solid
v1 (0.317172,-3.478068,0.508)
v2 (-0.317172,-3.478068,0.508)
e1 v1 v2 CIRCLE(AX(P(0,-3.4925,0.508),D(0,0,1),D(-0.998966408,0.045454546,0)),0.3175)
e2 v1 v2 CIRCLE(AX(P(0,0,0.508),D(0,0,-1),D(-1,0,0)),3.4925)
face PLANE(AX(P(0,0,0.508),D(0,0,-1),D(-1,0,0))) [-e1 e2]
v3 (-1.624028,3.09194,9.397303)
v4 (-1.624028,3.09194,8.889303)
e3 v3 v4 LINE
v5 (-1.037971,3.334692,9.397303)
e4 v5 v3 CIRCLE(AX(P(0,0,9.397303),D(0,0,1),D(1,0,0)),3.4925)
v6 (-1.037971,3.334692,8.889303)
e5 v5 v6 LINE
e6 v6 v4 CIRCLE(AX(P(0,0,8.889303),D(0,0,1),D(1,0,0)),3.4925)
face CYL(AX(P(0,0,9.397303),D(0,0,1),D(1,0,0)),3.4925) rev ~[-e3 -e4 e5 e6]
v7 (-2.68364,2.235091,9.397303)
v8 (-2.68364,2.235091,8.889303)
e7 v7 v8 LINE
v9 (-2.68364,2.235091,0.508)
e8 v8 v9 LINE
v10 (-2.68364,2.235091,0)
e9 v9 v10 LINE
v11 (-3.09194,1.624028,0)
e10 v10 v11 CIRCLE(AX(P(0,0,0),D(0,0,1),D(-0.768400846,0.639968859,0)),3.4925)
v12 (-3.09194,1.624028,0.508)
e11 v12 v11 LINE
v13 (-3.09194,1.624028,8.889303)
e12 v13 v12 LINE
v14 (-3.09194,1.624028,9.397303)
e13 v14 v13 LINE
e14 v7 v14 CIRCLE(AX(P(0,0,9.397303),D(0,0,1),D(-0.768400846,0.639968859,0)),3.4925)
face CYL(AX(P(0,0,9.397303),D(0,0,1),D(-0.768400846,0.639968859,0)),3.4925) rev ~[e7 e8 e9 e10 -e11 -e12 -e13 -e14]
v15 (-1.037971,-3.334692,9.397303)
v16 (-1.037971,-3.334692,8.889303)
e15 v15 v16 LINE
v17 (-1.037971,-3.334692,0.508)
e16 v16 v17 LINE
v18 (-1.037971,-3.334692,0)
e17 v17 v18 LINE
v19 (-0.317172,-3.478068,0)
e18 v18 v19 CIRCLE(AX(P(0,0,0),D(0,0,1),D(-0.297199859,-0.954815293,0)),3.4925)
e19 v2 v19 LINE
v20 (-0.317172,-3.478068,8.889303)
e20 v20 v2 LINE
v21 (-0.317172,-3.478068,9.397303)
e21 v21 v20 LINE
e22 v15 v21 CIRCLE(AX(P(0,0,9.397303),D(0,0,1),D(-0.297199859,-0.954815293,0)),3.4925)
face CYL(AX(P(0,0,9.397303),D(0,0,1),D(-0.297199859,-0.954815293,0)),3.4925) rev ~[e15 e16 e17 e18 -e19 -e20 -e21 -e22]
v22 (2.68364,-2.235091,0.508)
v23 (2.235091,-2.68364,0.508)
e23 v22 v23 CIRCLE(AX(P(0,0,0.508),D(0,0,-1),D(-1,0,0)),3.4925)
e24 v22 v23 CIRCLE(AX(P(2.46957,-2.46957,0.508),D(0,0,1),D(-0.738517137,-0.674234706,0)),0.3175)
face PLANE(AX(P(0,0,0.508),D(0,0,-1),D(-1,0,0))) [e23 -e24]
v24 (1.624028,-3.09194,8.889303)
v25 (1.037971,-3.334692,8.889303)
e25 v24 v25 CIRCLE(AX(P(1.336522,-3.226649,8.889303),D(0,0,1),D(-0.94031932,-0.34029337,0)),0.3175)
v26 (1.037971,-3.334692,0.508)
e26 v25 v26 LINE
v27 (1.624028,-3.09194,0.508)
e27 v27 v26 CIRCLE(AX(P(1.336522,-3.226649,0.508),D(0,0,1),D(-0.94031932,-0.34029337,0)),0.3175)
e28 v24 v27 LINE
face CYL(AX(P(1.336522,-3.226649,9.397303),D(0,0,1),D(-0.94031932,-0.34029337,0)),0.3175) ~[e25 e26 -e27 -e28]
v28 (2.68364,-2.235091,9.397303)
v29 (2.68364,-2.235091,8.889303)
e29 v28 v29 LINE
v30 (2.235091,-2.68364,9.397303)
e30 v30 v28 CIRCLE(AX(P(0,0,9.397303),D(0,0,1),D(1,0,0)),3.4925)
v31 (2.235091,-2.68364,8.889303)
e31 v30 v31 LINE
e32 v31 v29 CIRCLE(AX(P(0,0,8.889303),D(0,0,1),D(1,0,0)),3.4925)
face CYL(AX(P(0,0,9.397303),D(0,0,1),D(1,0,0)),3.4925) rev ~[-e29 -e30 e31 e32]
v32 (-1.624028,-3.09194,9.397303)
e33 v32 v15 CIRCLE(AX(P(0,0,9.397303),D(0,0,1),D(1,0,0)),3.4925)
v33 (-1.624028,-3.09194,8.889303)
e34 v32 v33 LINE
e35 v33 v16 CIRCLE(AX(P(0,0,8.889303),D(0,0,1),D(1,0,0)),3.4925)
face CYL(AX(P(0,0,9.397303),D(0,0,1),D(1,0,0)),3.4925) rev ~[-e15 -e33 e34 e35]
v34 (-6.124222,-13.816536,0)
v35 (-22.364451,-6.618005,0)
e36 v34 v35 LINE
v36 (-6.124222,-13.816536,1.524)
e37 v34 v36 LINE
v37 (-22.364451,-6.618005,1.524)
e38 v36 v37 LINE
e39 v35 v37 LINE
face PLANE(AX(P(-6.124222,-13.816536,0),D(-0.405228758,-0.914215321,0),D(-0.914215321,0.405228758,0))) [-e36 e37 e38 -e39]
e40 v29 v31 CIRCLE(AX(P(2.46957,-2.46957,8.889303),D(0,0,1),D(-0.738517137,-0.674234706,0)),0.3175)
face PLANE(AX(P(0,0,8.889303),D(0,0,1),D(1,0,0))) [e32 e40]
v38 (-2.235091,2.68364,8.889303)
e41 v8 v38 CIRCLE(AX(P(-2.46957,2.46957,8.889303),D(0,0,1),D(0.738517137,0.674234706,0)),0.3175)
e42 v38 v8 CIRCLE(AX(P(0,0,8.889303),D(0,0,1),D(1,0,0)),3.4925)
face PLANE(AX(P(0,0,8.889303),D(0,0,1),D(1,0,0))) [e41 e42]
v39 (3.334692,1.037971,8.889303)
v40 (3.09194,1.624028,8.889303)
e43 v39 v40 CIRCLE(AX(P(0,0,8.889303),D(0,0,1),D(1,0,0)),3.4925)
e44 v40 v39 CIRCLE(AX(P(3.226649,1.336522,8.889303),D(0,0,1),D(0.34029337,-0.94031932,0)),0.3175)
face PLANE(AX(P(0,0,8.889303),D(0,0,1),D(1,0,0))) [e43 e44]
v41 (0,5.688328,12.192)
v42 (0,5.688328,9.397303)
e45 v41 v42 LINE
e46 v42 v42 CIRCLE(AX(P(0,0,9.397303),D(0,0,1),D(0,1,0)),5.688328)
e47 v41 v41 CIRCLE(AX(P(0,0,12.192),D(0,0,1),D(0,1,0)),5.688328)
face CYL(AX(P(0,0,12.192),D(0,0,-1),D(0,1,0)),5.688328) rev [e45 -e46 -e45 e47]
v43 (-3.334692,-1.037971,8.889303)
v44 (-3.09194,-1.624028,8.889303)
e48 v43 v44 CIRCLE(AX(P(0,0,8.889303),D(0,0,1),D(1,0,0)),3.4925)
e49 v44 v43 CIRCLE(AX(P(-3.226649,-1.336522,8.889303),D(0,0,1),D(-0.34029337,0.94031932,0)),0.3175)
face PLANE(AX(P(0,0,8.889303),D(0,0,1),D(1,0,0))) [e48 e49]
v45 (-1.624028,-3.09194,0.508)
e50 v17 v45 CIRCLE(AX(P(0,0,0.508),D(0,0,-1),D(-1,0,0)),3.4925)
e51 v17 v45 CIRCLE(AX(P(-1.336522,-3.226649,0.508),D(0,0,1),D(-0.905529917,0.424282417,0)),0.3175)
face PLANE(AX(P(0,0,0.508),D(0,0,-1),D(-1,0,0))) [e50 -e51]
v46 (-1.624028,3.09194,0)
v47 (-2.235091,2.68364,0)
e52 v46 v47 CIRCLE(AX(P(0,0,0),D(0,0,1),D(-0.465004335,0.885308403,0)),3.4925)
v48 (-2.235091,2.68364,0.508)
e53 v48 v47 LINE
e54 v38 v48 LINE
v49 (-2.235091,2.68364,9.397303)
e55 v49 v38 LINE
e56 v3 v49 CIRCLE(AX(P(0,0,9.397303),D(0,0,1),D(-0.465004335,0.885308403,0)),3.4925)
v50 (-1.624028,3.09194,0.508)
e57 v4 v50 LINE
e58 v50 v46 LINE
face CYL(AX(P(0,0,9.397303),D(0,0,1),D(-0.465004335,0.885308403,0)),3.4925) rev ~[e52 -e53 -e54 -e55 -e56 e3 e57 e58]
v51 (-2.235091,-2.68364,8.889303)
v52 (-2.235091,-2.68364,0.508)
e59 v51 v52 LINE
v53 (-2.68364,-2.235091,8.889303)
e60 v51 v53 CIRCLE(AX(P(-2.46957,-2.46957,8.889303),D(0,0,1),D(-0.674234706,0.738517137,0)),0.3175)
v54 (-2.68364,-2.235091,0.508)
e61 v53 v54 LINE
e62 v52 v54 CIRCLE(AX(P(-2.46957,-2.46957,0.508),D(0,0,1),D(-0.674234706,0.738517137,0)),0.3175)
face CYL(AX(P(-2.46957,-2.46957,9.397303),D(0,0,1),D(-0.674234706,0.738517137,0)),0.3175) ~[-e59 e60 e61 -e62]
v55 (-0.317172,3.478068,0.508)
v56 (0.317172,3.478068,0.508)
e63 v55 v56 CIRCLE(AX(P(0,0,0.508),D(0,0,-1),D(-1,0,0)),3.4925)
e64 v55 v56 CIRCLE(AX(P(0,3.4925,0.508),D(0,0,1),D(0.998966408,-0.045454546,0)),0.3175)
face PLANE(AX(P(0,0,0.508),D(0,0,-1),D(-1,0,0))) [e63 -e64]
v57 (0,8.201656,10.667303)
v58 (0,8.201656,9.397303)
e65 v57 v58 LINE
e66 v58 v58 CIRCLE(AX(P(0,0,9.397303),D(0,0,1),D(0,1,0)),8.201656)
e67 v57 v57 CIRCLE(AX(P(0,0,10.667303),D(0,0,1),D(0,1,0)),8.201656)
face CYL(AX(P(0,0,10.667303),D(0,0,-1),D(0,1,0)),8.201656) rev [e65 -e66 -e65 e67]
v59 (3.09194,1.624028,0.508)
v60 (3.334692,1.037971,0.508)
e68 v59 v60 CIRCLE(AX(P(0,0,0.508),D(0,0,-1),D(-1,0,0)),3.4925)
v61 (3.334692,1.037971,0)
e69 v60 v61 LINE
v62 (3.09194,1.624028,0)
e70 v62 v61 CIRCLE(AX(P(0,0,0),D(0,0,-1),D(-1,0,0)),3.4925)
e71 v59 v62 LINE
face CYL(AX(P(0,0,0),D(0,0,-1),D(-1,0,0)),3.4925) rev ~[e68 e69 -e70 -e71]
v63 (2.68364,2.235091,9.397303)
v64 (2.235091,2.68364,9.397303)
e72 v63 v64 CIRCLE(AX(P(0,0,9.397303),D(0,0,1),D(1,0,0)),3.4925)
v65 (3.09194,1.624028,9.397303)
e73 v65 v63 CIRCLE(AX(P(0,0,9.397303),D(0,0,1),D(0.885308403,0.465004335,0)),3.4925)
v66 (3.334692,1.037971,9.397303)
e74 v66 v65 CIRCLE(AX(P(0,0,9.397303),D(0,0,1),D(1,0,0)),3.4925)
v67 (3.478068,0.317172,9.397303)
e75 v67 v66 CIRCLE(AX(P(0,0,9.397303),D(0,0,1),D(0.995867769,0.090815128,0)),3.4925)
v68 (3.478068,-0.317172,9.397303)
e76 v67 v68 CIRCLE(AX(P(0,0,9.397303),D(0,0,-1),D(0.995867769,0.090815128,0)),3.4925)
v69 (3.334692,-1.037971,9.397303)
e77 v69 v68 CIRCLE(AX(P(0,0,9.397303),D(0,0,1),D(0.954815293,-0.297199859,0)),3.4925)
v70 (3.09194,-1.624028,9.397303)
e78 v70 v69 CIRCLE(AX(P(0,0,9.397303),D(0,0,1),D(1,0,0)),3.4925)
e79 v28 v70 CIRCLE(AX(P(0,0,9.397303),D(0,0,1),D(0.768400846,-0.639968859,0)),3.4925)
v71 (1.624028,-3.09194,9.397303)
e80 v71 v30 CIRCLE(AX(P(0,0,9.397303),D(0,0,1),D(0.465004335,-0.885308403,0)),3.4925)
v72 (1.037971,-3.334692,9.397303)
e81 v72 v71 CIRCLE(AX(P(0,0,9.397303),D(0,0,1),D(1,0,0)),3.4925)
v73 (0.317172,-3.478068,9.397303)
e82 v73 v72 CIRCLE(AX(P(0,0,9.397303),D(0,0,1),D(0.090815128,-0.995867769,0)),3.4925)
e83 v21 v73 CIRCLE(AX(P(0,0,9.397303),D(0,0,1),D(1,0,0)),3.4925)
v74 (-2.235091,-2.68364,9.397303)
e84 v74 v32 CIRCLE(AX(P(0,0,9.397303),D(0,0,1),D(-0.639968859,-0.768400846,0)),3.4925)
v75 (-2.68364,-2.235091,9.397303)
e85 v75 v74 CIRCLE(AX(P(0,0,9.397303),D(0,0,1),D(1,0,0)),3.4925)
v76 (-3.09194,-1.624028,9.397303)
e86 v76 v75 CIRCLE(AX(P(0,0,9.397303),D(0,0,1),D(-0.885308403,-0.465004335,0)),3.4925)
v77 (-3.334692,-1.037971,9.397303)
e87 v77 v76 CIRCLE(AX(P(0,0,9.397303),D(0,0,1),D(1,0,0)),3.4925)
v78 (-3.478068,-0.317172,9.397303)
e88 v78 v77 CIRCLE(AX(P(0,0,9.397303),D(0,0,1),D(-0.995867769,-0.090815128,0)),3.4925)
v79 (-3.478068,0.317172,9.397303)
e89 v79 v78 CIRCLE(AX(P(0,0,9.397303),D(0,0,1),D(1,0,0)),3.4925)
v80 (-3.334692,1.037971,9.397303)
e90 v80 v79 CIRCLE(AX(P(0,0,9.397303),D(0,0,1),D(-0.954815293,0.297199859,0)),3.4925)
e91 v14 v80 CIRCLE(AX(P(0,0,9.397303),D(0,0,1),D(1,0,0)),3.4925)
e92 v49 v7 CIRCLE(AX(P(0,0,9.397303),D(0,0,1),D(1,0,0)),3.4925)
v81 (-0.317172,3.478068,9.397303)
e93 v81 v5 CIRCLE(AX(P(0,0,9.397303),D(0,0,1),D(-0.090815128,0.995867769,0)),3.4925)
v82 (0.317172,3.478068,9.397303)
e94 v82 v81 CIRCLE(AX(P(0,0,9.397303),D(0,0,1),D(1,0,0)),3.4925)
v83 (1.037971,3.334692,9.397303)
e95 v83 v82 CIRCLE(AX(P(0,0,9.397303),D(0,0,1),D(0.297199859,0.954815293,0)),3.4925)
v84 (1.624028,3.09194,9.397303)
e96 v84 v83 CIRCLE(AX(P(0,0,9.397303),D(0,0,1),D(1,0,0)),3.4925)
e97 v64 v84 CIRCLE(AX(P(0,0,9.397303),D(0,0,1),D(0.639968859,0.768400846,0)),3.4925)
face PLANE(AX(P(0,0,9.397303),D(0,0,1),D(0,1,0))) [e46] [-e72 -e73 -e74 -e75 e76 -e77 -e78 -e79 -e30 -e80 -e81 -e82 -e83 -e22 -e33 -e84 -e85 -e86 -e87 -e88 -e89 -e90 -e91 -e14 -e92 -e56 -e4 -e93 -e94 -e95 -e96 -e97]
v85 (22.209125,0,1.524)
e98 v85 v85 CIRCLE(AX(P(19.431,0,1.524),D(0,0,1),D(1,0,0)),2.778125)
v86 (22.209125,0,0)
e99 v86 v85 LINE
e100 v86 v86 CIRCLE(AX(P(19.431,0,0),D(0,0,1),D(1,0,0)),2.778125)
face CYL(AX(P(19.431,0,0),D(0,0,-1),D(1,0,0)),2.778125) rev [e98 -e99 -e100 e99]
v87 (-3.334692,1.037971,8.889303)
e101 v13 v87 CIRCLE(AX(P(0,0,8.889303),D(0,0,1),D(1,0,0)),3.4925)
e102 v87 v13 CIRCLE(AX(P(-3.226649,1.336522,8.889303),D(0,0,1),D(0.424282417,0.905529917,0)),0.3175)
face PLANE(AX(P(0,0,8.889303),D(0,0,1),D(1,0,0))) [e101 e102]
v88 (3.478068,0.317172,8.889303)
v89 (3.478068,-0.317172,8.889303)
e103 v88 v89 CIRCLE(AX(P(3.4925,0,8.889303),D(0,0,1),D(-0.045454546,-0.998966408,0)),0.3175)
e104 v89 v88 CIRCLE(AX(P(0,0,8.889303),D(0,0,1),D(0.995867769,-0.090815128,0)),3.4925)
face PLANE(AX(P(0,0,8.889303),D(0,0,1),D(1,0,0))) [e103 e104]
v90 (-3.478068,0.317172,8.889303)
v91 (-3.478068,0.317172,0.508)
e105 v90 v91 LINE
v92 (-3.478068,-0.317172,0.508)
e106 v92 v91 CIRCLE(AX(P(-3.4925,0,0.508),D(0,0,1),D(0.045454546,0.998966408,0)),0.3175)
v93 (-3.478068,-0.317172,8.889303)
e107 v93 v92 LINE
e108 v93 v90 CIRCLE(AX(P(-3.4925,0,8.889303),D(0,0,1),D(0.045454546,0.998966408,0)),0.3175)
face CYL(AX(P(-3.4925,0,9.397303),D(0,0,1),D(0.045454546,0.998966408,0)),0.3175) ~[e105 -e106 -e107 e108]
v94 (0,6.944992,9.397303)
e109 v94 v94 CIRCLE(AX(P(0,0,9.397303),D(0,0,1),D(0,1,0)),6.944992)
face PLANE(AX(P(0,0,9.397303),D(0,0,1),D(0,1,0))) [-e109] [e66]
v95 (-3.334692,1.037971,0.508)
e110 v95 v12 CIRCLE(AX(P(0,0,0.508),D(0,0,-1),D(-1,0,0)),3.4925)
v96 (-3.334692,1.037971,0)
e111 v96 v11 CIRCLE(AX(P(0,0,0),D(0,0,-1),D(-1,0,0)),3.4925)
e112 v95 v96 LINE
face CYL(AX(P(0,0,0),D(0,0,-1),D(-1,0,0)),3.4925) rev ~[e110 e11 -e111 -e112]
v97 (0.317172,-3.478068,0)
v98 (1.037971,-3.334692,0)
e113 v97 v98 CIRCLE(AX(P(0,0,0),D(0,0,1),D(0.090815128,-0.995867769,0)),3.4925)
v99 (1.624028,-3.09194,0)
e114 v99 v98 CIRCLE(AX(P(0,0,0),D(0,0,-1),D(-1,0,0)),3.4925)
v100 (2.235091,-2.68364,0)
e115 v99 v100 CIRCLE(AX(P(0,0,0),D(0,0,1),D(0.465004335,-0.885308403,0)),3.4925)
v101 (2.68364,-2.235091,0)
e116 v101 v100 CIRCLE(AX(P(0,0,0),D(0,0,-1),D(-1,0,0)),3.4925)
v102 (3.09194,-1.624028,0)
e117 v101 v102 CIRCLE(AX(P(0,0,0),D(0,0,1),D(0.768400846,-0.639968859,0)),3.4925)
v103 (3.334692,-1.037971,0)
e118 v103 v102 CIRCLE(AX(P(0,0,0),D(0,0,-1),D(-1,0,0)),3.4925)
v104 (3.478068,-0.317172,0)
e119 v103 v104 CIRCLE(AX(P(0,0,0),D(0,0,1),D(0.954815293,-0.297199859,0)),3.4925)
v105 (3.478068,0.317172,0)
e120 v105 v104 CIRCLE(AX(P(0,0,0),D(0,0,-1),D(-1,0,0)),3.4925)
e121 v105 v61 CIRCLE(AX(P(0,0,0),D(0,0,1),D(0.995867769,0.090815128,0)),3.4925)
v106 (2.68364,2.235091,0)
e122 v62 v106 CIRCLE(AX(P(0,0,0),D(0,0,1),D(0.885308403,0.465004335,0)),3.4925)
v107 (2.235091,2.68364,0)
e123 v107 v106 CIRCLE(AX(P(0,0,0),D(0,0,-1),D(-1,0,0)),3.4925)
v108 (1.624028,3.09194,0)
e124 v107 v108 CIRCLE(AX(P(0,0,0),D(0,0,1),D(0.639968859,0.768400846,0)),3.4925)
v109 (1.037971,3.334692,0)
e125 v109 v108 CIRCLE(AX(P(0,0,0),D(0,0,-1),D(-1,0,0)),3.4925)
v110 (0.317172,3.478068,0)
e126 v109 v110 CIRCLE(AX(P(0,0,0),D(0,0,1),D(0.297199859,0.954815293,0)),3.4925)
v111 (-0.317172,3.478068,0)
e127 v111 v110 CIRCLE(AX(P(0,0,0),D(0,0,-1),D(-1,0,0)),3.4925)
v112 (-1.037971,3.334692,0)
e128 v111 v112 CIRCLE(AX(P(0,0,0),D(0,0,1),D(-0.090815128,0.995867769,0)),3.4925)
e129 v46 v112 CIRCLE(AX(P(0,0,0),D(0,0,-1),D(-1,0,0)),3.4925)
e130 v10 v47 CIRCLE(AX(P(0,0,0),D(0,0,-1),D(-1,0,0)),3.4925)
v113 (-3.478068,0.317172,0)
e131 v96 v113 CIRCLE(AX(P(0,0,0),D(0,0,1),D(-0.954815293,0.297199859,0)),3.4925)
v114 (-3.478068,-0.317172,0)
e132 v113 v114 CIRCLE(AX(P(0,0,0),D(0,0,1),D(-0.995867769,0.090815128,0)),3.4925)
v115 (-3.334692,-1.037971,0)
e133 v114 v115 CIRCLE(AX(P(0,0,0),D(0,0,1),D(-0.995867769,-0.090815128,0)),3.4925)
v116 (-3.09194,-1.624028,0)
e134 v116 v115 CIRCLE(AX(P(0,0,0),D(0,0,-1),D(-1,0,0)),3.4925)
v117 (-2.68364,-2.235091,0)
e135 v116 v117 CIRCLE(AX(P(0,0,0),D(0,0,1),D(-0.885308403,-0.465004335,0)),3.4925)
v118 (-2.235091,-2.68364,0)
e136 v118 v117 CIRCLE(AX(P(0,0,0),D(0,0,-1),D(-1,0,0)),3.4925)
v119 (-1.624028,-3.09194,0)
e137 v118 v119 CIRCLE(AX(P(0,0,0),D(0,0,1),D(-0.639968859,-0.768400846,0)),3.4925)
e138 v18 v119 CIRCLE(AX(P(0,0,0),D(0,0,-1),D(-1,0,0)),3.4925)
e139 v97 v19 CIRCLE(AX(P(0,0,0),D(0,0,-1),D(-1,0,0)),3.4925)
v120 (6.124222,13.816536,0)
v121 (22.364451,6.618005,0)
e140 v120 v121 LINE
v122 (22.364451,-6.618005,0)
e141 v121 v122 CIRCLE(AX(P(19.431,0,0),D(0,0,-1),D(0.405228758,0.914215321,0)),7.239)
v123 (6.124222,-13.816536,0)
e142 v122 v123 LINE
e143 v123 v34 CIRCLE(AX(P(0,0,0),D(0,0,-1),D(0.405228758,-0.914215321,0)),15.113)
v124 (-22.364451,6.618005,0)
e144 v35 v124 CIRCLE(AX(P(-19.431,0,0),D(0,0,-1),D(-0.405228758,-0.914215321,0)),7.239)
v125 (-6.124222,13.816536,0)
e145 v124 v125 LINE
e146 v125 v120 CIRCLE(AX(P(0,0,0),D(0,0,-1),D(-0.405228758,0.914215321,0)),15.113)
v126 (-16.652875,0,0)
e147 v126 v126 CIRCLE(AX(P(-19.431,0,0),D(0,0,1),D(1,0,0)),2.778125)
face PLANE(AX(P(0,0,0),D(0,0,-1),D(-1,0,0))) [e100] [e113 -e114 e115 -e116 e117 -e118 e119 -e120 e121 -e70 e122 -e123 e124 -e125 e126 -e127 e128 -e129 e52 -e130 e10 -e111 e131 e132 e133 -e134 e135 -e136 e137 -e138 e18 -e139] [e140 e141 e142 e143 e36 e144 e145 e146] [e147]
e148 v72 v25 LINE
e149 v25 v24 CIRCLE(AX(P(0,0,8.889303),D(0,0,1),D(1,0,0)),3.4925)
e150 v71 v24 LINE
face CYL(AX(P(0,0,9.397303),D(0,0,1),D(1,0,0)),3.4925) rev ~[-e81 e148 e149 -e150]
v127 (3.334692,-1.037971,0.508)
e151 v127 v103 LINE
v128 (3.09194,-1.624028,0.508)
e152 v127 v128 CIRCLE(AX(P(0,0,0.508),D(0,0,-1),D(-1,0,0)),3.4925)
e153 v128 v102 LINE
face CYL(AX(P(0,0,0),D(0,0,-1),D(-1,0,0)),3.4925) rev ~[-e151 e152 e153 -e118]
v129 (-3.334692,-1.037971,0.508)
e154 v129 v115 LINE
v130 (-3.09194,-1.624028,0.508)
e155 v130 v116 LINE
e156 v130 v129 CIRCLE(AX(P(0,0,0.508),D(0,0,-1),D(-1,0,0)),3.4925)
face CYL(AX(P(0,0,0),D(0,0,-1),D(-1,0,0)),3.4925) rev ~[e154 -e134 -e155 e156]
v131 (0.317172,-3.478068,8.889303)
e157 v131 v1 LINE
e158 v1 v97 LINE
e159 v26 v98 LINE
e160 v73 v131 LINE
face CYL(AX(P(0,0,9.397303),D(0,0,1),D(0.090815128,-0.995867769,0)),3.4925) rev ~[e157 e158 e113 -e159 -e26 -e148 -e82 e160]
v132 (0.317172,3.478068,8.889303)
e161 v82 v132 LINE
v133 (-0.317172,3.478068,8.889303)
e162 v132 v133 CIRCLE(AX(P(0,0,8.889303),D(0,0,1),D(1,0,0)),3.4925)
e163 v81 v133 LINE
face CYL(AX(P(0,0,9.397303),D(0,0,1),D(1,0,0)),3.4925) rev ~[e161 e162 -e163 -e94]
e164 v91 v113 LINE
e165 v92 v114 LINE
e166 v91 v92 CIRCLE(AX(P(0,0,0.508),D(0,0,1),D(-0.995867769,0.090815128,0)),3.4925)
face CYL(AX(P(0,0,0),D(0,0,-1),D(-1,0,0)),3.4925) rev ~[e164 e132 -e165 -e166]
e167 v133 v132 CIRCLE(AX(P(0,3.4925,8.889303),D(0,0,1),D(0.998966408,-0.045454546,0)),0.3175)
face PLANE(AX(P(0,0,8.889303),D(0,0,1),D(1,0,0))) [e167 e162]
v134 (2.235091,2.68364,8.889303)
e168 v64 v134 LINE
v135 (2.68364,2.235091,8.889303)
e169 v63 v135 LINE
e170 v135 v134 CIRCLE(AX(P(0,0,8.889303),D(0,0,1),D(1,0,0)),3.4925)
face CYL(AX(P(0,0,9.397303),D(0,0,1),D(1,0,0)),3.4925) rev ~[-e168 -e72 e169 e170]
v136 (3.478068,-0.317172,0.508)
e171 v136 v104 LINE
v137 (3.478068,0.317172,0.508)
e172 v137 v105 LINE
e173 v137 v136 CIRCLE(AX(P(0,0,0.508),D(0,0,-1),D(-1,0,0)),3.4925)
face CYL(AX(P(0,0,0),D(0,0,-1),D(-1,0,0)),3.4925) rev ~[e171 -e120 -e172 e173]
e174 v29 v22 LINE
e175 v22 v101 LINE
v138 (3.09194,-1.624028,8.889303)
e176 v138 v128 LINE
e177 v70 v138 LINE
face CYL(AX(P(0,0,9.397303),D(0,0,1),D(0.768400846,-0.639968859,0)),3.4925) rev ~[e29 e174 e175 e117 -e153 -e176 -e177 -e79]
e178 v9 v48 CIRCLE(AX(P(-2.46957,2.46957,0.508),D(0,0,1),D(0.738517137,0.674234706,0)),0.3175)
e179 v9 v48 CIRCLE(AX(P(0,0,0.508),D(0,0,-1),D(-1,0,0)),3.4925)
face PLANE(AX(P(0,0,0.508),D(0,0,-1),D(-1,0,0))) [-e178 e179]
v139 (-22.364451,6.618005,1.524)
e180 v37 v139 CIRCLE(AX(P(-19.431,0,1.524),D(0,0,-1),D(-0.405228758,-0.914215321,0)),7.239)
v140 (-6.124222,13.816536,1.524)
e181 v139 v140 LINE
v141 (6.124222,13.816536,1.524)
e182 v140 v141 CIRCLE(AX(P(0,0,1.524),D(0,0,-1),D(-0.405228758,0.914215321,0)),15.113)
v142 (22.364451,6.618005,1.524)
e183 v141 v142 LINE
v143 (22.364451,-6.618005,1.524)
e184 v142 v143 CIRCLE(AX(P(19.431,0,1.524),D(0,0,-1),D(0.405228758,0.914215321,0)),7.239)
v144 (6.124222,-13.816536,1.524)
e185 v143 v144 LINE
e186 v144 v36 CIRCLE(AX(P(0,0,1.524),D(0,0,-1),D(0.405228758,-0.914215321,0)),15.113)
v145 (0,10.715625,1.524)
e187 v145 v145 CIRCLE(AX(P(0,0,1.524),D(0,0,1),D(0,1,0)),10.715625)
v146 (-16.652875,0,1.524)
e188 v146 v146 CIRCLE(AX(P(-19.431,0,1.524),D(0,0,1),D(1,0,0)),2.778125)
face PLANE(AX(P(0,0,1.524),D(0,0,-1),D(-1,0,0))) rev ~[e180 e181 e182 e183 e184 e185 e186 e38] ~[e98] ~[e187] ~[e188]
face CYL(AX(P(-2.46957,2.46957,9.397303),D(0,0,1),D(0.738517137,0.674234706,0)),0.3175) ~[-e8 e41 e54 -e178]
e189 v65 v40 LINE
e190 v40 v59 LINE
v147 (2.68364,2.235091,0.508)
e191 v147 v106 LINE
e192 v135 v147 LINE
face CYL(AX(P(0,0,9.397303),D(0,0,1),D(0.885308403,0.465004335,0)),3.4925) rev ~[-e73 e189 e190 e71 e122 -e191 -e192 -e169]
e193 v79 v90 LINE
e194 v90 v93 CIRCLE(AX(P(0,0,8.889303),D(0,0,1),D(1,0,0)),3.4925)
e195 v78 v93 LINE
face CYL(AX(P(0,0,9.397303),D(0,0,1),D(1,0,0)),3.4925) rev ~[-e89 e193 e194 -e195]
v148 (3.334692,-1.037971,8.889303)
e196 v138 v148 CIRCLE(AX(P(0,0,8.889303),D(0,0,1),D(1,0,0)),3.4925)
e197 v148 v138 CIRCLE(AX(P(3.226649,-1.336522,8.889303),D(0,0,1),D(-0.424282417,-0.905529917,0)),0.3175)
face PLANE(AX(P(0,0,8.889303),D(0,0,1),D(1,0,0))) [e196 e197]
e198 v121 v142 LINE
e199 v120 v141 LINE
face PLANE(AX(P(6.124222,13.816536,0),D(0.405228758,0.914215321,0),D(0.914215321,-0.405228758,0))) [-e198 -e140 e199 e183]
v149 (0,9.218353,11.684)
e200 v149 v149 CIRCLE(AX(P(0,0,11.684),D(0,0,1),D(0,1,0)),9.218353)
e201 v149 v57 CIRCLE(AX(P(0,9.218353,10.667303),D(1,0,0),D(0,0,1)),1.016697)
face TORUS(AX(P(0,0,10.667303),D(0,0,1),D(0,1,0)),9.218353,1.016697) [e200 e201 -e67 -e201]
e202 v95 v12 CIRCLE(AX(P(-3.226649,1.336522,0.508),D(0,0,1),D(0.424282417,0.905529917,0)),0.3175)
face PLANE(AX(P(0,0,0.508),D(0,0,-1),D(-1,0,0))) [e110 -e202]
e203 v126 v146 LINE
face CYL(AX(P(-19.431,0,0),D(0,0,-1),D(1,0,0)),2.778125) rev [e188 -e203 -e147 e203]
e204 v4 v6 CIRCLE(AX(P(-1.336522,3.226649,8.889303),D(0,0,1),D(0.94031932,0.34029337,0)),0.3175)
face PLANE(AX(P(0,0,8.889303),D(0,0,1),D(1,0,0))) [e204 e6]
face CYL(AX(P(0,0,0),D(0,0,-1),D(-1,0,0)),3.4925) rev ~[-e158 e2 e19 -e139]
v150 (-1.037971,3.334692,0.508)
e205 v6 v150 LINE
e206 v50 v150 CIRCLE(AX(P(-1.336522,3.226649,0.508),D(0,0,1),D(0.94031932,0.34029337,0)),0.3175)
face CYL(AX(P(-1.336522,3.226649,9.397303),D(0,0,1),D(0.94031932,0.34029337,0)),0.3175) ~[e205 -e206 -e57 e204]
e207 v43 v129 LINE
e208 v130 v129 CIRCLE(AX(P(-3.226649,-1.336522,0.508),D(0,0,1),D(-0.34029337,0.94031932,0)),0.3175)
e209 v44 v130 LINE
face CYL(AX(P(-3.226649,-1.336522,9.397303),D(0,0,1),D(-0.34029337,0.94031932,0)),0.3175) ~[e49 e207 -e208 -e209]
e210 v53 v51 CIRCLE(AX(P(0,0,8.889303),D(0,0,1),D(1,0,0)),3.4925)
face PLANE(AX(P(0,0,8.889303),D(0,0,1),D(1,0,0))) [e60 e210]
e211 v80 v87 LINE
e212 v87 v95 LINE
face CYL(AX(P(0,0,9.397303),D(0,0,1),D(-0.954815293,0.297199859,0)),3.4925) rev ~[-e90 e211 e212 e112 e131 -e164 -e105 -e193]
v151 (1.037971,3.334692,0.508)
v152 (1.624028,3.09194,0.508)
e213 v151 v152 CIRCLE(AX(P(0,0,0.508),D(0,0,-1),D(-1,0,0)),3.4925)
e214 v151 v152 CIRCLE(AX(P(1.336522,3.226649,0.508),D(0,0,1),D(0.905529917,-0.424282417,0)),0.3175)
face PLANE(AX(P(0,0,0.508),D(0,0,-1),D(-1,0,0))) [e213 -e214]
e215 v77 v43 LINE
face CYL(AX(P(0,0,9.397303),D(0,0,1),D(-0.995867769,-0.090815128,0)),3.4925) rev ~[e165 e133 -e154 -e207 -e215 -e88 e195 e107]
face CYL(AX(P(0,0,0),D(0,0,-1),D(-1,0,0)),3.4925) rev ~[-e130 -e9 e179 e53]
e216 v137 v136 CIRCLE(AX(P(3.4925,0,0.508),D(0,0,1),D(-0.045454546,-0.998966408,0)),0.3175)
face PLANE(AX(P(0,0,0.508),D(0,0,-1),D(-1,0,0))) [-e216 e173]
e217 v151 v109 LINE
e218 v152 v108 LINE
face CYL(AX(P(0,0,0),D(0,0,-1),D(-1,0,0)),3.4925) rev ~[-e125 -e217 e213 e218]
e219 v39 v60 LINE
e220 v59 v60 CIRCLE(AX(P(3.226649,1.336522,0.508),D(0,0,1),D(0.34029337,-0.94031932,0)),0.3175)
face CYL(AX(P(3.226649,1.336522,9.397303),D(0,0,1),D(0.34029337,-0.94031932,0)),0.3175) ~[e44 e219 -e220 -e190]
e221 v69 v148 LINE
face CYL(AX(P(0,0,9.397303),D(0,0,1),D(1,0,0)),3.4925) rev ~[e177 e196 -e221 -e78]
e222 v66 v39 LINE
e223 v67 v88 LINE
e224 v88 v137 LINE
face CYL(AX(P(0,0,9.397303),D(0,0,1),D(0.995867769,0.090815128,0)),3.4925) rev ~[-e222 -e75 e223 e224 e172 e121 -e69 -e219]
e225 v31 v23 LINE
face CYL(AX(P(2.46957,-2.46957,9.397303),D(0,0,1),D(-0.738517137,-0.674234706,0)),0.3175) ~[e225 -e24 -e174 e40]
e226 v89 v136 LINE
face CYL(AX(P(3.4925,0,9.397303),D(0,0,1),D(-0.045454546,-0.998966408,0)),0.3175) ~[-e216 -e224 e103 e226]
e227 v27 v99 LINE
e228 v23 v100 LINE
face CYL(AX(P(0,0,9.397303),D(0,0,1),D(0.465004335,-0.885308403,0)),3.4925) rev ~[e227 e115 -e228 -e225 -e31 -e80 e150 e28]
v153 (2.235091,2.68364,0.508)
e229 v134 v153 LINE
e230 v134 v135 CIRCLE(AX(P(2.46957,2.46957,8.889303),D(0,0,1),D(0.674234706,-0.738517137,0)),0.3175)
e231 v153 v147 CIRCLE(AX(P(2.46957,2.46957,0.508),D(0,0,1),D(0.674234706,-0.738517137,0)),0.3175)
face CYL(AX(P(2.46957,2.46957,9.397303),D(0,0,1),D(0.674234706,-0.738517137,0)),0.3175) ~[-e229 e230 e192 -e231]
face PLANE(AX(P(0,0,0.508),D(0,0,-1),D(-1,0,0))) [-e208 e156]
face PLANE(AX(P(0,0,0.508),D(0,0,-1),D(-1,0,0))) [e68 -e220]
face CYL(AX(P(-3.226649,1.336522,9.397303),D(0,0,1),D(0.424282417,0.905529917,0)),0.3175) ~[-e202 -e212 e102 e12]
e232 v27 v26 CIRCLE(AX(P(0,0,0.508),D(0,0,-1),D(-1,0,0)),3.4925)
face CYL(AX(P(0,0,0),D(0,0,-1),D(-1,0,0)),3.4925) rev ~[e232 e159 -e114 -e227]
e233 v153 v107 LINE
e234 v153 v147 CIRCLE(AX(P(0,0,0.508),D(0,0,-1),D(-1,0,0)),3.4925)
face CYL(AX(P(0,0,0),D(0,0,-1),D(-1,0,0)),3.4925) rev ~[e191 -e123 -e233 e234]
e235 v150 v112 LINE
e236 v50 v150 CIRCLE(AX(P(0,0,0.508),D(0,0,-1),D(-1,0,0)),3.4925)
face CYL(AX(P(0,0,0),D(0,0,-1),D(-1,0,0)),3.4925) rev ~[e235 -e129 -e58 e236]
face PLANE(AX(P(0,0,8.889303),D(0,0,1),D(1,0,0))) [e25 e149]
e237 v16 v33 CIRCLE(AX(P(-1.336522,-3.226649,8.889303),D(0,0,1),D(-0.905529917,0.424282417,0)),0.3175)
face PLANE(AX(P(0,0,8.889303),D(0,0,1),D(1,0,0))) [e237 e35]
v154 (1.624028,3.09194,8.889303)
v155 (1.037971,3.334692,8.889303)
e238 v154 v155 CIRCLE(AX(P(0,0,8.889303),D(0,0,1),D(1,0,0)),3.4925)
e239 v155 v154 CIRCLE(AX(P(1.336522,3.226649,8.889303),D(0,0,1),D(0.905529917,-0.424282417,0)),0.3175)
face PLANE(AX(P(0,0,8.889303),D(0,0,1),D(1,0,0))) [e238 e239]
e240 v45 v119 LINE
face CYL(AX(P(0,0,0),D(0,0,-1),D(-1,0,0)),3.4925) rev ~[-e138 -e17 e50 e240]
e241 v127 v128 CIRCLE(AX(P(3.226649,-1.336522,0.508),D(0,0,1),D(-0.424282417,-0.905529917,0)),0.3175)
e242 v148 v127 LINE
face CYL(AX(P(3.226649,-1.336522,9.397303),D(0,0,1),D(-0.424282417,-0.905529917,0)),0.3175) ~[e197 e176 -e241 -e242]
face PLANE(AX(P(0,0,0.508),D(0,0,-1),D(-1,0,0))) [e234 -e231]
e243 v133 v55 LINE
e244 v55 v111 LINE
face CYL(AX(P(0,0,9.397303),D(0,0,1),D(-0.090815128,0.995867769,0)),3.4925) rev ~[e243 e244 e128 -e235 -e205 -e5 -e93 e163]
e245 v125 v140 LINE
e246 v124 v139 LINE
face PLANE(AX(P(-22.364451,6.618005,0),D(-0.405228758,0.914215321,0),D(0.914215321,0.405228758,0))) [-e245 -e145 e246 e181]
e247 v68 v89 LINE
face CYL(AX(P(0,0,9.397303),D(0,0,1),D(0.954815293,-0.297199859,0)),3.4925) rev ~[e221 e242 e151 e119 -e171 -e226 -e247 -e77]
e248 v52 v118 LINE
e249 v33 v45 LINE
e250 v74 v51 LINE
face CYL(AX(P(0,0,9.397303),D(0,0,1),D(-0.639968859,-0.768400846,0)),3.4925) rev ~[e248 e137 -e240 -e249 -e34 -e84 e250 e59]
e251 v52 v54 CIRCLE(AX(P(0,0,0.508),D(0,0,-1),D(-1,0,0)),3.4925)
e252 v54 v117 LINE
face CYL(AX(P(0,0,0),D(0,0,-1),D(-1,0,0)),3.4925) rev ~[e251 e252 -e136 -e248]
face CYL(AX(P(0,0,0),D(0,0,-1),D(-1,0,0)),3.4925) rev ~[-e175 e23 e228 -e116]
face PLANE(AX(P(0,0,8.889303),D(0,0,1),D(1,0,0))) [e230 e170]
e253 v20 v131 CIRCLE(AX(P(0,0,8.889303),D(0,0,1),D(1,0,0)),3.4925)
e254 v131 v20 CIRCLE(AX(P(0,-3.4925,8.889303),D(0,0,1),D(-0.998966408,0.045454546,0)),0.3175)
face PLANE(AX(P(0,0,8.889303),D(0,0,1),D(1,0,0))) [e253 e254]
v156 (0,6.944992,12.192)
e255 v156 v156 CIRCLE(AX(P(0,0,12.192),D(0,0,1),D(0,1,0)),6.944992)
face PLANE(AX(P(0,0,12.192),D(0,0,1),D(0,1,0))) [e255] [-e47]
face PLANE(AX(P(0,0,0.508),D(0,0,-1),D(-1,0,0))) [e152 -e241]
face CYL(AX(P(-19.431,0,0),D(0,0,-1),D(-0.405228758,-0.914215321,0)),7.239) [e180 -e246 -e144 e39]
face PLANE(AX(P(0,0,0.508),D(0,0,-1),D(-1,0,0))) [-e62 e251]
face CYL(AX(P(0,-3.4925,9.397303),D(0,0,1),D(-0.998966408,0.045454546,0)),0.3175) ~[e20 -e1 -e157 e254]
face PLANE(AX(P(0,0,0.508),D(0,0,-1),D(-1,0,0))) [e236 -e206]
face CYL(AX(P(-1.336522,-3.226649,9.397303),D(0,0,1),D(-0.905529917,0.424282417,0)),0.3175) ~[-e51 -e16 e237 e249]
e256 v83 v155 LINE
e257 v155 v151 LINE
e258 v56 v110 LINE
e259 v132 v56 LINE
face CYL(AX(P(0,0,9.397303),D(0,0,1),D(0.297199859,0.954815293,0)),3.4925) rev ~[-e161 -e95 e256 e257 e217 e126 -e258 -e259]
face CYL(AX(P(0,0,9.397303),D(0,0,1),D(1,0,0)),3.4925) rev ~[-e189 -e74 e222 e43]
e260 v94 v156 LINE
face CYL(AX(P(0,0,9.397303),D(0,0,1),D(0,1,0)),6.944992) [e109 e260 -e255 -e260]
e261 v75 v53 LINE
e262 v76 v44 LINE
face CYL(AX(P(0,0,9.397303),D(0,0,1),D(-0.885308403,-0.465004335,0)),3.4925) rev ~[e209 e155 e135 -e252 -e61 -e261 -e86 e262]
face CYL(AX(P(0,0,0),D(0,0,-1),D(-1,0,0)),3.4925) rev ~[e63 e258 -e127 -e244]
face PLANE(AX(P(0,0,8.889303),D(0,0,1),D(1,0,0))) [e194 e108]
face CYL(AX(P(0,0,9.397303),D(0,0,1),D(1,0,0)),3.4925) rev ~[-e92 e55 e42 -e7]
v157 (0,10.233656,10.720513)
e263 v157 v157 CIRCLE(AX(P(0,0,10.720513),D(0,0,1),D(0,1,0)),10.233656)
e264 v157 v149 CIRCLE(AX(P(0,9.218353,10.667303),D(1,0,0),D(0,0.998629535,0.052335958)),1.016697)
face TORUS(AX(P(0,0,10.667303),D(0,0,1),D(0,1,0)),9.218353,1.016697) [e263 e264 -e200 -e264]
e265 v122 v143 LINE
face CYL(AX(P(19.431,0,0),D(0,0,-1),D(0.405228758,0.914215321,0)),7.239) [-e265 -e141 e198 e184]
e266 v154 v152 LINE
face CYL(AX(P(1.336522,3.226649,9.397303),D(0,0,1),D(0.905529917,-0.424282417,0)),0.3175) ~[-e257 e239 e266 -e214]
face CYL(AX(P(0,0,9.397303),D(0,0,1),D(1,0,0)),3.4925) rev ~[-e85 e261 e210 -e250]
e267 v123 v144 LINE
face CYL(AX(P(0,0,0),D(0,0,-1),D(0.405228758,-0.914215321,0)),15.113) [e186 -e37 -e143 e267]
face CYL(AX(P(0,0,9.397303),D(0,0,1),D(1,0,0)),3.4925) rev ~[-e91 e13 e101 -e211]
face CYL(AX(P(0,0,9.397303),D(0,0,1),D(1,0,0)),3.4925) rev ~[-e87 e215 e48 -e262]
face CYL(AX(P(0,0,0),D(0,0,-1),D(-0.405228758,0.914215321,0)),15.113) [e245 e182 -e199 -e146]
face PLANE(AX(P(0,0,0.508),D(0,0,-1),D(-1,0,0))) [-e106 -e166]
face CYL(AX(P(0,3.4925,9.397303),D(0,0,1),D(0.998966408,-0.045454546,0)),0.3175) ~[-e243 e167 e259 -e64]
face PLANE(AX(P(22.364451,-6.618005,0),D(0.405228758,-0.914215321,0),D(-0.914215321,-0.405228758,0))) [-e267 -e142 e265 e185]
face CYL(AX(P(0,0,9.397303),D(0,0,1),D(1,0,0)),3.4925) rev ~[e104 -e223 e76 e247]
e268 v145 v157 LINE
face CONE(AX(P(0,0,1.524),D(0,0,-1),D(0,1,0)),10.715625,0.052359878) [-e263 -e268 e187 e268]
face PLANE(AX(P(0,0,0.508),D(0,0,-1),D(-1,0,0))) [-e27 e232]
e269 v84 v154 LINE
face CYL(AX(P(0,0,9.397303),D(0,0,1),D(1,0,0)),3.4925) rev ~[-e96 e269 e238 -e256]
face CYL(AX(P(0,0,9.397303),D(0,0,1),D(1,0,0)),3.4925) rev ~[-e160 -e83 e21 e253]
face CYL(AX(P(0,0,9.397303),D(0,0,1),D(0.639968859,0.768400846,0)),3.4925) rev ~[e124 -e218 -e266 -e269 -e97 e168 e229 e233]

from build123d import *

# Parameters (mm, degrees)
SKETCH1_R          = 2.778125
SKETCH1_R_2        = 10.715625
EXTRUDE1_DEPTH     = 1.524
CUT_EXTRUDE2_DEPTH = 10.397303326
SKETCH4_R          = 3.4925
CUT_EXTRUDE3_DEPTH = 0.508
SKETCH5_R          = 3.4925
CUT_EXTRUDE4_DEPTH = 0.508


with BuildPart() as part:
    # Sketch1 → Extrude1 (new body)
    with BuildSketch(Plane.XY):
        with BuildLine():
            Line((-22.36445098, 6.61800471), (-6.124222222, 13.81653615))
            ThreePointArc((-6.124222222, 13.81653615), (0, 15.113), (6.124222222, 13.81653615))
            Line((6.124222222, 13.81653615), (22.36445098, 6.61800471))
            ThreePointArc((22.36445098, 6.61800471), (26.67, 0), (22.36445098, -6.61800471))
            Line((22.36445098, -6.61800471), (6.124222222, -13.81653615))
            ThreePointArc((6.124222222, -13.81653615), (0, -15.113), (-6.124222222, -13.81653615))
            Line((-6.124222222, -13.81653615), (-22.36445098, -6.61800471))
            ThreePointArc((-22.36445098, -6.61800471), (-26.67, 0), (-22.36445098, 6.61800471))
        make_face()
        with Locations((-19.431, 0)):
            Circle(SKETCH1_R, mode=Mode.SUBTRACT)
        with Locations((19.431, 0)):
            Circle(SKETCH1_R, mode=Mode.SUBTRACT)
        Circle(SKETCH1_R_2, mode=Mode.SUBTRACT)
    extrude(amount=EXTRUDE1_DEPTH)

    # Sketch2 → Revolve1 (revolve)
    with BuildSketch(Plane(origin=(0, 0, 0), x_dir=(0, 0, -1), z_dir=(1, 0, 0))):
        with BuildLine():
            Line((0, 10.715625), (-1.524, 10.715625))
            Line((-1.524, 10.715625), (-10.720513119, 10.23365617))
            ThreePointArc((-10.720513119, 10.23365617), (-11.404789036, 9.918200651), (-11.684, 9.218352844))
            ThreePointArc((-11.684, 9.218352844), (-11.386216439, 8.499439732), (-10.667303326, 8.20165617))
            Line((-10.667303326, 8.20165617), (-9.397303326, 8.20165617))
            Line((-9.397303326, 8.20165617), (-9.397303326, 6.944992128))
            Line((-9.397303326, 6.944992128), (-12.192, 6.944992128))
            Line((-12.192, 6.944992128), (-12.192, 5.688328085))
            Line((-12.192, 5.688328085), (-9.397303326, 5.688328085))
            Line((-9.397303326, 5.688328085), (-9.397303326, 4.431664043))
            Line((-9.397303326, 4.431664043), (-9.397303326, 3.175))
            Line((-9.397303326, 3.175), (0, 3.175))
            Line((0, 3.175), (0, 10.715625))
        make_face()
    revolve(axis=Axis((0, 0, 0), (0, 0, 1)))

    # Sketch3 → Cut-Extrude2 (cut, through all)
    with BuildSketch(Plane.XY.offset(9.397303326)):
        with BuildLine():
            ThreePointArc((-1.624027636, 3.0919396), (-1.940329039, 2.903907621), (-2.235091242, 2.683639952))
            ThreePointArc((-2.235091242, 2.683639952), (-2.24506403, 2.24506403), (-2.683639952, 2.235091242))
            ThreePointArc((-2.683639952, 2.235091242), (-2.903907621, 1.940329039), (-3.0919396, 1.624027636))
            ThreePointArc((-3.0919396, 1.624027636), (-2.933317516, 1.215019898), (-3.334692412, 1.037970504))
            ThreePointArc((-3.334692412, 1.037970504), (-3.425392592, 0.68135295), (-3.478068182, 0.317171835))
            ThreePointArc((-3.478068182, 0.317171835), (-3.175, 0), (-3.478068182, -0.317171835))
            ThreePointArc((-3.478068182, -0.317171835), (-3.425392592, -0.68135295), (-3.334692412, -1.037970504))
            ThreePointArc((-3.334692412, -1.037970504), (-2.933317516, -1.215019898), (-3.0919396, -1.624027636))
            ThreePointArc((-3.0919396, -1.624027636), (-2.903907621, -1.940329039), (-2.683639952, -2.235091242))
            ThreePointArc((-2.683639952, -2.235091242), (-2.24506403, -2.24506403), (-2.235091242, -2.683639952))
            ThreePointArc((-2.235091242, -2.683639952), (-1.940329039, -2.903907621), (-1.624027636, -3.0919396))
            ThreePointArc((-1.624027636, -3.0919396), (-1.215019898, -2.933317516), (-1.037970504, -3.334692412))
            ThreePointArc((-1.037970504, -3.334692412), (-0.68135295, -3.425392592), (-0.317171835, -3.478068182))
            ThreePointArc((-0.317171835, -3.478068182), (0, -3.175), (0.317171835, -3.478068182))
            ThreePointArc((0.317171835, -3.478068182), (0.68135295, -3.425392592), (1.037970504, -3.334692412))
            ThreePointArc((1.037970504, -3.334692412), (1.215019898, -2.933317516), (1.624027636, -3.0919396))
            ThreePointArc((1.624027636, -3.0919396), (1.940329039, -2.903907621), (2.235091242, -2.683639952))
            ThreePointArc((2.235091242, -2.683639952), (2.24506403, -2.24506403), (2.683639952, -2.235091242))
            ThreePointArc((2.683639952, -2.235091242), (2.903907621, -1.940329039), (3.0919396, -1.624027636))
            ThreePointArc((3.0919396, -1.624027636), (2.933317516, -1.215019898), (3.334692412, -1.037970504))
            ThreePointArc((3.334692412, -1.037970504), (3.425392592, -0.68135295), (3.478068182, -0.317171835))
            ThreePointArc((3.478068182, -0.317171835), (3.175, 0), (3.478068182, 0.317171835))
            ThreePointArc((3.478068182, 0.317171835), (3.425392592, 0.68135295), (3.334692412, 1.037970504))
            ThreePointArc((3.334692412, 1.037970504), (2.933317516, 1.215019898), (3.0919396, 1.624027636))
            ThreePointArc((3.0919396, 1.624027636), (2.903907621, 1.940329039), (2.683639952, 2.235091242))
            ThreePointArc((2.683639952, 2.235091242), (2.24506403, 2.24506403), (2.235091242, 2.683639952))
            ThreePointArc((2.235091242, 2.683639952), (1.940329039, 2.903907621), (1.624027636, 3.0919396))
            ThreePointArc((1.624027636, 3.0919396), (1.215019898, 2.933317516), (1.037970504, 3.334692412))
            ThreePointArc((1.037970504, 3.334692412), (0.68135295, 3.425392592), (0.317171835, 3.478068182))
            ThreePointArc((0.317171835, 3.478068182), (0, 3.175), (-0.317171835, 3.478068182))
            ThreePointArc((-0.317171835, 3.478068182), (-0.68135295, 3.425392592), (-1.037970504, 3.334692412))
            ThreePointArc((-1.037970504, 3.334692412), (-1.215019898, 2.933317516), (-1.624027636, 3.0919396))
        make_face()
    extrude(amount=-CUT_EXTRUDE2_DEPTH, mode=Mode.SUBTRACT)

    # Sketch4 → Cut-Extrude3 (cut)
    with BuildSketch(Plane.XY.offset(9.397303326)):
        Circle(SKETCH4_R)
    extrude(amount=-CUT_EXTRUDE3_DEPTH, mode=Mode.SUBTRACT)

    # Sketch5 → Cut-Extrude4 (cut)
    with BuildSketch(Plane(origin=(0, 0, 0), x_dir=(-1, 0, 0), z_dir=(0, 0, -1))):
        Circle(SKETCH5_R)
    extrude(amount=-CUT_EXTRUDE4_DEPTH, mode=Mode.SUBTRACT)


solid = part.part
